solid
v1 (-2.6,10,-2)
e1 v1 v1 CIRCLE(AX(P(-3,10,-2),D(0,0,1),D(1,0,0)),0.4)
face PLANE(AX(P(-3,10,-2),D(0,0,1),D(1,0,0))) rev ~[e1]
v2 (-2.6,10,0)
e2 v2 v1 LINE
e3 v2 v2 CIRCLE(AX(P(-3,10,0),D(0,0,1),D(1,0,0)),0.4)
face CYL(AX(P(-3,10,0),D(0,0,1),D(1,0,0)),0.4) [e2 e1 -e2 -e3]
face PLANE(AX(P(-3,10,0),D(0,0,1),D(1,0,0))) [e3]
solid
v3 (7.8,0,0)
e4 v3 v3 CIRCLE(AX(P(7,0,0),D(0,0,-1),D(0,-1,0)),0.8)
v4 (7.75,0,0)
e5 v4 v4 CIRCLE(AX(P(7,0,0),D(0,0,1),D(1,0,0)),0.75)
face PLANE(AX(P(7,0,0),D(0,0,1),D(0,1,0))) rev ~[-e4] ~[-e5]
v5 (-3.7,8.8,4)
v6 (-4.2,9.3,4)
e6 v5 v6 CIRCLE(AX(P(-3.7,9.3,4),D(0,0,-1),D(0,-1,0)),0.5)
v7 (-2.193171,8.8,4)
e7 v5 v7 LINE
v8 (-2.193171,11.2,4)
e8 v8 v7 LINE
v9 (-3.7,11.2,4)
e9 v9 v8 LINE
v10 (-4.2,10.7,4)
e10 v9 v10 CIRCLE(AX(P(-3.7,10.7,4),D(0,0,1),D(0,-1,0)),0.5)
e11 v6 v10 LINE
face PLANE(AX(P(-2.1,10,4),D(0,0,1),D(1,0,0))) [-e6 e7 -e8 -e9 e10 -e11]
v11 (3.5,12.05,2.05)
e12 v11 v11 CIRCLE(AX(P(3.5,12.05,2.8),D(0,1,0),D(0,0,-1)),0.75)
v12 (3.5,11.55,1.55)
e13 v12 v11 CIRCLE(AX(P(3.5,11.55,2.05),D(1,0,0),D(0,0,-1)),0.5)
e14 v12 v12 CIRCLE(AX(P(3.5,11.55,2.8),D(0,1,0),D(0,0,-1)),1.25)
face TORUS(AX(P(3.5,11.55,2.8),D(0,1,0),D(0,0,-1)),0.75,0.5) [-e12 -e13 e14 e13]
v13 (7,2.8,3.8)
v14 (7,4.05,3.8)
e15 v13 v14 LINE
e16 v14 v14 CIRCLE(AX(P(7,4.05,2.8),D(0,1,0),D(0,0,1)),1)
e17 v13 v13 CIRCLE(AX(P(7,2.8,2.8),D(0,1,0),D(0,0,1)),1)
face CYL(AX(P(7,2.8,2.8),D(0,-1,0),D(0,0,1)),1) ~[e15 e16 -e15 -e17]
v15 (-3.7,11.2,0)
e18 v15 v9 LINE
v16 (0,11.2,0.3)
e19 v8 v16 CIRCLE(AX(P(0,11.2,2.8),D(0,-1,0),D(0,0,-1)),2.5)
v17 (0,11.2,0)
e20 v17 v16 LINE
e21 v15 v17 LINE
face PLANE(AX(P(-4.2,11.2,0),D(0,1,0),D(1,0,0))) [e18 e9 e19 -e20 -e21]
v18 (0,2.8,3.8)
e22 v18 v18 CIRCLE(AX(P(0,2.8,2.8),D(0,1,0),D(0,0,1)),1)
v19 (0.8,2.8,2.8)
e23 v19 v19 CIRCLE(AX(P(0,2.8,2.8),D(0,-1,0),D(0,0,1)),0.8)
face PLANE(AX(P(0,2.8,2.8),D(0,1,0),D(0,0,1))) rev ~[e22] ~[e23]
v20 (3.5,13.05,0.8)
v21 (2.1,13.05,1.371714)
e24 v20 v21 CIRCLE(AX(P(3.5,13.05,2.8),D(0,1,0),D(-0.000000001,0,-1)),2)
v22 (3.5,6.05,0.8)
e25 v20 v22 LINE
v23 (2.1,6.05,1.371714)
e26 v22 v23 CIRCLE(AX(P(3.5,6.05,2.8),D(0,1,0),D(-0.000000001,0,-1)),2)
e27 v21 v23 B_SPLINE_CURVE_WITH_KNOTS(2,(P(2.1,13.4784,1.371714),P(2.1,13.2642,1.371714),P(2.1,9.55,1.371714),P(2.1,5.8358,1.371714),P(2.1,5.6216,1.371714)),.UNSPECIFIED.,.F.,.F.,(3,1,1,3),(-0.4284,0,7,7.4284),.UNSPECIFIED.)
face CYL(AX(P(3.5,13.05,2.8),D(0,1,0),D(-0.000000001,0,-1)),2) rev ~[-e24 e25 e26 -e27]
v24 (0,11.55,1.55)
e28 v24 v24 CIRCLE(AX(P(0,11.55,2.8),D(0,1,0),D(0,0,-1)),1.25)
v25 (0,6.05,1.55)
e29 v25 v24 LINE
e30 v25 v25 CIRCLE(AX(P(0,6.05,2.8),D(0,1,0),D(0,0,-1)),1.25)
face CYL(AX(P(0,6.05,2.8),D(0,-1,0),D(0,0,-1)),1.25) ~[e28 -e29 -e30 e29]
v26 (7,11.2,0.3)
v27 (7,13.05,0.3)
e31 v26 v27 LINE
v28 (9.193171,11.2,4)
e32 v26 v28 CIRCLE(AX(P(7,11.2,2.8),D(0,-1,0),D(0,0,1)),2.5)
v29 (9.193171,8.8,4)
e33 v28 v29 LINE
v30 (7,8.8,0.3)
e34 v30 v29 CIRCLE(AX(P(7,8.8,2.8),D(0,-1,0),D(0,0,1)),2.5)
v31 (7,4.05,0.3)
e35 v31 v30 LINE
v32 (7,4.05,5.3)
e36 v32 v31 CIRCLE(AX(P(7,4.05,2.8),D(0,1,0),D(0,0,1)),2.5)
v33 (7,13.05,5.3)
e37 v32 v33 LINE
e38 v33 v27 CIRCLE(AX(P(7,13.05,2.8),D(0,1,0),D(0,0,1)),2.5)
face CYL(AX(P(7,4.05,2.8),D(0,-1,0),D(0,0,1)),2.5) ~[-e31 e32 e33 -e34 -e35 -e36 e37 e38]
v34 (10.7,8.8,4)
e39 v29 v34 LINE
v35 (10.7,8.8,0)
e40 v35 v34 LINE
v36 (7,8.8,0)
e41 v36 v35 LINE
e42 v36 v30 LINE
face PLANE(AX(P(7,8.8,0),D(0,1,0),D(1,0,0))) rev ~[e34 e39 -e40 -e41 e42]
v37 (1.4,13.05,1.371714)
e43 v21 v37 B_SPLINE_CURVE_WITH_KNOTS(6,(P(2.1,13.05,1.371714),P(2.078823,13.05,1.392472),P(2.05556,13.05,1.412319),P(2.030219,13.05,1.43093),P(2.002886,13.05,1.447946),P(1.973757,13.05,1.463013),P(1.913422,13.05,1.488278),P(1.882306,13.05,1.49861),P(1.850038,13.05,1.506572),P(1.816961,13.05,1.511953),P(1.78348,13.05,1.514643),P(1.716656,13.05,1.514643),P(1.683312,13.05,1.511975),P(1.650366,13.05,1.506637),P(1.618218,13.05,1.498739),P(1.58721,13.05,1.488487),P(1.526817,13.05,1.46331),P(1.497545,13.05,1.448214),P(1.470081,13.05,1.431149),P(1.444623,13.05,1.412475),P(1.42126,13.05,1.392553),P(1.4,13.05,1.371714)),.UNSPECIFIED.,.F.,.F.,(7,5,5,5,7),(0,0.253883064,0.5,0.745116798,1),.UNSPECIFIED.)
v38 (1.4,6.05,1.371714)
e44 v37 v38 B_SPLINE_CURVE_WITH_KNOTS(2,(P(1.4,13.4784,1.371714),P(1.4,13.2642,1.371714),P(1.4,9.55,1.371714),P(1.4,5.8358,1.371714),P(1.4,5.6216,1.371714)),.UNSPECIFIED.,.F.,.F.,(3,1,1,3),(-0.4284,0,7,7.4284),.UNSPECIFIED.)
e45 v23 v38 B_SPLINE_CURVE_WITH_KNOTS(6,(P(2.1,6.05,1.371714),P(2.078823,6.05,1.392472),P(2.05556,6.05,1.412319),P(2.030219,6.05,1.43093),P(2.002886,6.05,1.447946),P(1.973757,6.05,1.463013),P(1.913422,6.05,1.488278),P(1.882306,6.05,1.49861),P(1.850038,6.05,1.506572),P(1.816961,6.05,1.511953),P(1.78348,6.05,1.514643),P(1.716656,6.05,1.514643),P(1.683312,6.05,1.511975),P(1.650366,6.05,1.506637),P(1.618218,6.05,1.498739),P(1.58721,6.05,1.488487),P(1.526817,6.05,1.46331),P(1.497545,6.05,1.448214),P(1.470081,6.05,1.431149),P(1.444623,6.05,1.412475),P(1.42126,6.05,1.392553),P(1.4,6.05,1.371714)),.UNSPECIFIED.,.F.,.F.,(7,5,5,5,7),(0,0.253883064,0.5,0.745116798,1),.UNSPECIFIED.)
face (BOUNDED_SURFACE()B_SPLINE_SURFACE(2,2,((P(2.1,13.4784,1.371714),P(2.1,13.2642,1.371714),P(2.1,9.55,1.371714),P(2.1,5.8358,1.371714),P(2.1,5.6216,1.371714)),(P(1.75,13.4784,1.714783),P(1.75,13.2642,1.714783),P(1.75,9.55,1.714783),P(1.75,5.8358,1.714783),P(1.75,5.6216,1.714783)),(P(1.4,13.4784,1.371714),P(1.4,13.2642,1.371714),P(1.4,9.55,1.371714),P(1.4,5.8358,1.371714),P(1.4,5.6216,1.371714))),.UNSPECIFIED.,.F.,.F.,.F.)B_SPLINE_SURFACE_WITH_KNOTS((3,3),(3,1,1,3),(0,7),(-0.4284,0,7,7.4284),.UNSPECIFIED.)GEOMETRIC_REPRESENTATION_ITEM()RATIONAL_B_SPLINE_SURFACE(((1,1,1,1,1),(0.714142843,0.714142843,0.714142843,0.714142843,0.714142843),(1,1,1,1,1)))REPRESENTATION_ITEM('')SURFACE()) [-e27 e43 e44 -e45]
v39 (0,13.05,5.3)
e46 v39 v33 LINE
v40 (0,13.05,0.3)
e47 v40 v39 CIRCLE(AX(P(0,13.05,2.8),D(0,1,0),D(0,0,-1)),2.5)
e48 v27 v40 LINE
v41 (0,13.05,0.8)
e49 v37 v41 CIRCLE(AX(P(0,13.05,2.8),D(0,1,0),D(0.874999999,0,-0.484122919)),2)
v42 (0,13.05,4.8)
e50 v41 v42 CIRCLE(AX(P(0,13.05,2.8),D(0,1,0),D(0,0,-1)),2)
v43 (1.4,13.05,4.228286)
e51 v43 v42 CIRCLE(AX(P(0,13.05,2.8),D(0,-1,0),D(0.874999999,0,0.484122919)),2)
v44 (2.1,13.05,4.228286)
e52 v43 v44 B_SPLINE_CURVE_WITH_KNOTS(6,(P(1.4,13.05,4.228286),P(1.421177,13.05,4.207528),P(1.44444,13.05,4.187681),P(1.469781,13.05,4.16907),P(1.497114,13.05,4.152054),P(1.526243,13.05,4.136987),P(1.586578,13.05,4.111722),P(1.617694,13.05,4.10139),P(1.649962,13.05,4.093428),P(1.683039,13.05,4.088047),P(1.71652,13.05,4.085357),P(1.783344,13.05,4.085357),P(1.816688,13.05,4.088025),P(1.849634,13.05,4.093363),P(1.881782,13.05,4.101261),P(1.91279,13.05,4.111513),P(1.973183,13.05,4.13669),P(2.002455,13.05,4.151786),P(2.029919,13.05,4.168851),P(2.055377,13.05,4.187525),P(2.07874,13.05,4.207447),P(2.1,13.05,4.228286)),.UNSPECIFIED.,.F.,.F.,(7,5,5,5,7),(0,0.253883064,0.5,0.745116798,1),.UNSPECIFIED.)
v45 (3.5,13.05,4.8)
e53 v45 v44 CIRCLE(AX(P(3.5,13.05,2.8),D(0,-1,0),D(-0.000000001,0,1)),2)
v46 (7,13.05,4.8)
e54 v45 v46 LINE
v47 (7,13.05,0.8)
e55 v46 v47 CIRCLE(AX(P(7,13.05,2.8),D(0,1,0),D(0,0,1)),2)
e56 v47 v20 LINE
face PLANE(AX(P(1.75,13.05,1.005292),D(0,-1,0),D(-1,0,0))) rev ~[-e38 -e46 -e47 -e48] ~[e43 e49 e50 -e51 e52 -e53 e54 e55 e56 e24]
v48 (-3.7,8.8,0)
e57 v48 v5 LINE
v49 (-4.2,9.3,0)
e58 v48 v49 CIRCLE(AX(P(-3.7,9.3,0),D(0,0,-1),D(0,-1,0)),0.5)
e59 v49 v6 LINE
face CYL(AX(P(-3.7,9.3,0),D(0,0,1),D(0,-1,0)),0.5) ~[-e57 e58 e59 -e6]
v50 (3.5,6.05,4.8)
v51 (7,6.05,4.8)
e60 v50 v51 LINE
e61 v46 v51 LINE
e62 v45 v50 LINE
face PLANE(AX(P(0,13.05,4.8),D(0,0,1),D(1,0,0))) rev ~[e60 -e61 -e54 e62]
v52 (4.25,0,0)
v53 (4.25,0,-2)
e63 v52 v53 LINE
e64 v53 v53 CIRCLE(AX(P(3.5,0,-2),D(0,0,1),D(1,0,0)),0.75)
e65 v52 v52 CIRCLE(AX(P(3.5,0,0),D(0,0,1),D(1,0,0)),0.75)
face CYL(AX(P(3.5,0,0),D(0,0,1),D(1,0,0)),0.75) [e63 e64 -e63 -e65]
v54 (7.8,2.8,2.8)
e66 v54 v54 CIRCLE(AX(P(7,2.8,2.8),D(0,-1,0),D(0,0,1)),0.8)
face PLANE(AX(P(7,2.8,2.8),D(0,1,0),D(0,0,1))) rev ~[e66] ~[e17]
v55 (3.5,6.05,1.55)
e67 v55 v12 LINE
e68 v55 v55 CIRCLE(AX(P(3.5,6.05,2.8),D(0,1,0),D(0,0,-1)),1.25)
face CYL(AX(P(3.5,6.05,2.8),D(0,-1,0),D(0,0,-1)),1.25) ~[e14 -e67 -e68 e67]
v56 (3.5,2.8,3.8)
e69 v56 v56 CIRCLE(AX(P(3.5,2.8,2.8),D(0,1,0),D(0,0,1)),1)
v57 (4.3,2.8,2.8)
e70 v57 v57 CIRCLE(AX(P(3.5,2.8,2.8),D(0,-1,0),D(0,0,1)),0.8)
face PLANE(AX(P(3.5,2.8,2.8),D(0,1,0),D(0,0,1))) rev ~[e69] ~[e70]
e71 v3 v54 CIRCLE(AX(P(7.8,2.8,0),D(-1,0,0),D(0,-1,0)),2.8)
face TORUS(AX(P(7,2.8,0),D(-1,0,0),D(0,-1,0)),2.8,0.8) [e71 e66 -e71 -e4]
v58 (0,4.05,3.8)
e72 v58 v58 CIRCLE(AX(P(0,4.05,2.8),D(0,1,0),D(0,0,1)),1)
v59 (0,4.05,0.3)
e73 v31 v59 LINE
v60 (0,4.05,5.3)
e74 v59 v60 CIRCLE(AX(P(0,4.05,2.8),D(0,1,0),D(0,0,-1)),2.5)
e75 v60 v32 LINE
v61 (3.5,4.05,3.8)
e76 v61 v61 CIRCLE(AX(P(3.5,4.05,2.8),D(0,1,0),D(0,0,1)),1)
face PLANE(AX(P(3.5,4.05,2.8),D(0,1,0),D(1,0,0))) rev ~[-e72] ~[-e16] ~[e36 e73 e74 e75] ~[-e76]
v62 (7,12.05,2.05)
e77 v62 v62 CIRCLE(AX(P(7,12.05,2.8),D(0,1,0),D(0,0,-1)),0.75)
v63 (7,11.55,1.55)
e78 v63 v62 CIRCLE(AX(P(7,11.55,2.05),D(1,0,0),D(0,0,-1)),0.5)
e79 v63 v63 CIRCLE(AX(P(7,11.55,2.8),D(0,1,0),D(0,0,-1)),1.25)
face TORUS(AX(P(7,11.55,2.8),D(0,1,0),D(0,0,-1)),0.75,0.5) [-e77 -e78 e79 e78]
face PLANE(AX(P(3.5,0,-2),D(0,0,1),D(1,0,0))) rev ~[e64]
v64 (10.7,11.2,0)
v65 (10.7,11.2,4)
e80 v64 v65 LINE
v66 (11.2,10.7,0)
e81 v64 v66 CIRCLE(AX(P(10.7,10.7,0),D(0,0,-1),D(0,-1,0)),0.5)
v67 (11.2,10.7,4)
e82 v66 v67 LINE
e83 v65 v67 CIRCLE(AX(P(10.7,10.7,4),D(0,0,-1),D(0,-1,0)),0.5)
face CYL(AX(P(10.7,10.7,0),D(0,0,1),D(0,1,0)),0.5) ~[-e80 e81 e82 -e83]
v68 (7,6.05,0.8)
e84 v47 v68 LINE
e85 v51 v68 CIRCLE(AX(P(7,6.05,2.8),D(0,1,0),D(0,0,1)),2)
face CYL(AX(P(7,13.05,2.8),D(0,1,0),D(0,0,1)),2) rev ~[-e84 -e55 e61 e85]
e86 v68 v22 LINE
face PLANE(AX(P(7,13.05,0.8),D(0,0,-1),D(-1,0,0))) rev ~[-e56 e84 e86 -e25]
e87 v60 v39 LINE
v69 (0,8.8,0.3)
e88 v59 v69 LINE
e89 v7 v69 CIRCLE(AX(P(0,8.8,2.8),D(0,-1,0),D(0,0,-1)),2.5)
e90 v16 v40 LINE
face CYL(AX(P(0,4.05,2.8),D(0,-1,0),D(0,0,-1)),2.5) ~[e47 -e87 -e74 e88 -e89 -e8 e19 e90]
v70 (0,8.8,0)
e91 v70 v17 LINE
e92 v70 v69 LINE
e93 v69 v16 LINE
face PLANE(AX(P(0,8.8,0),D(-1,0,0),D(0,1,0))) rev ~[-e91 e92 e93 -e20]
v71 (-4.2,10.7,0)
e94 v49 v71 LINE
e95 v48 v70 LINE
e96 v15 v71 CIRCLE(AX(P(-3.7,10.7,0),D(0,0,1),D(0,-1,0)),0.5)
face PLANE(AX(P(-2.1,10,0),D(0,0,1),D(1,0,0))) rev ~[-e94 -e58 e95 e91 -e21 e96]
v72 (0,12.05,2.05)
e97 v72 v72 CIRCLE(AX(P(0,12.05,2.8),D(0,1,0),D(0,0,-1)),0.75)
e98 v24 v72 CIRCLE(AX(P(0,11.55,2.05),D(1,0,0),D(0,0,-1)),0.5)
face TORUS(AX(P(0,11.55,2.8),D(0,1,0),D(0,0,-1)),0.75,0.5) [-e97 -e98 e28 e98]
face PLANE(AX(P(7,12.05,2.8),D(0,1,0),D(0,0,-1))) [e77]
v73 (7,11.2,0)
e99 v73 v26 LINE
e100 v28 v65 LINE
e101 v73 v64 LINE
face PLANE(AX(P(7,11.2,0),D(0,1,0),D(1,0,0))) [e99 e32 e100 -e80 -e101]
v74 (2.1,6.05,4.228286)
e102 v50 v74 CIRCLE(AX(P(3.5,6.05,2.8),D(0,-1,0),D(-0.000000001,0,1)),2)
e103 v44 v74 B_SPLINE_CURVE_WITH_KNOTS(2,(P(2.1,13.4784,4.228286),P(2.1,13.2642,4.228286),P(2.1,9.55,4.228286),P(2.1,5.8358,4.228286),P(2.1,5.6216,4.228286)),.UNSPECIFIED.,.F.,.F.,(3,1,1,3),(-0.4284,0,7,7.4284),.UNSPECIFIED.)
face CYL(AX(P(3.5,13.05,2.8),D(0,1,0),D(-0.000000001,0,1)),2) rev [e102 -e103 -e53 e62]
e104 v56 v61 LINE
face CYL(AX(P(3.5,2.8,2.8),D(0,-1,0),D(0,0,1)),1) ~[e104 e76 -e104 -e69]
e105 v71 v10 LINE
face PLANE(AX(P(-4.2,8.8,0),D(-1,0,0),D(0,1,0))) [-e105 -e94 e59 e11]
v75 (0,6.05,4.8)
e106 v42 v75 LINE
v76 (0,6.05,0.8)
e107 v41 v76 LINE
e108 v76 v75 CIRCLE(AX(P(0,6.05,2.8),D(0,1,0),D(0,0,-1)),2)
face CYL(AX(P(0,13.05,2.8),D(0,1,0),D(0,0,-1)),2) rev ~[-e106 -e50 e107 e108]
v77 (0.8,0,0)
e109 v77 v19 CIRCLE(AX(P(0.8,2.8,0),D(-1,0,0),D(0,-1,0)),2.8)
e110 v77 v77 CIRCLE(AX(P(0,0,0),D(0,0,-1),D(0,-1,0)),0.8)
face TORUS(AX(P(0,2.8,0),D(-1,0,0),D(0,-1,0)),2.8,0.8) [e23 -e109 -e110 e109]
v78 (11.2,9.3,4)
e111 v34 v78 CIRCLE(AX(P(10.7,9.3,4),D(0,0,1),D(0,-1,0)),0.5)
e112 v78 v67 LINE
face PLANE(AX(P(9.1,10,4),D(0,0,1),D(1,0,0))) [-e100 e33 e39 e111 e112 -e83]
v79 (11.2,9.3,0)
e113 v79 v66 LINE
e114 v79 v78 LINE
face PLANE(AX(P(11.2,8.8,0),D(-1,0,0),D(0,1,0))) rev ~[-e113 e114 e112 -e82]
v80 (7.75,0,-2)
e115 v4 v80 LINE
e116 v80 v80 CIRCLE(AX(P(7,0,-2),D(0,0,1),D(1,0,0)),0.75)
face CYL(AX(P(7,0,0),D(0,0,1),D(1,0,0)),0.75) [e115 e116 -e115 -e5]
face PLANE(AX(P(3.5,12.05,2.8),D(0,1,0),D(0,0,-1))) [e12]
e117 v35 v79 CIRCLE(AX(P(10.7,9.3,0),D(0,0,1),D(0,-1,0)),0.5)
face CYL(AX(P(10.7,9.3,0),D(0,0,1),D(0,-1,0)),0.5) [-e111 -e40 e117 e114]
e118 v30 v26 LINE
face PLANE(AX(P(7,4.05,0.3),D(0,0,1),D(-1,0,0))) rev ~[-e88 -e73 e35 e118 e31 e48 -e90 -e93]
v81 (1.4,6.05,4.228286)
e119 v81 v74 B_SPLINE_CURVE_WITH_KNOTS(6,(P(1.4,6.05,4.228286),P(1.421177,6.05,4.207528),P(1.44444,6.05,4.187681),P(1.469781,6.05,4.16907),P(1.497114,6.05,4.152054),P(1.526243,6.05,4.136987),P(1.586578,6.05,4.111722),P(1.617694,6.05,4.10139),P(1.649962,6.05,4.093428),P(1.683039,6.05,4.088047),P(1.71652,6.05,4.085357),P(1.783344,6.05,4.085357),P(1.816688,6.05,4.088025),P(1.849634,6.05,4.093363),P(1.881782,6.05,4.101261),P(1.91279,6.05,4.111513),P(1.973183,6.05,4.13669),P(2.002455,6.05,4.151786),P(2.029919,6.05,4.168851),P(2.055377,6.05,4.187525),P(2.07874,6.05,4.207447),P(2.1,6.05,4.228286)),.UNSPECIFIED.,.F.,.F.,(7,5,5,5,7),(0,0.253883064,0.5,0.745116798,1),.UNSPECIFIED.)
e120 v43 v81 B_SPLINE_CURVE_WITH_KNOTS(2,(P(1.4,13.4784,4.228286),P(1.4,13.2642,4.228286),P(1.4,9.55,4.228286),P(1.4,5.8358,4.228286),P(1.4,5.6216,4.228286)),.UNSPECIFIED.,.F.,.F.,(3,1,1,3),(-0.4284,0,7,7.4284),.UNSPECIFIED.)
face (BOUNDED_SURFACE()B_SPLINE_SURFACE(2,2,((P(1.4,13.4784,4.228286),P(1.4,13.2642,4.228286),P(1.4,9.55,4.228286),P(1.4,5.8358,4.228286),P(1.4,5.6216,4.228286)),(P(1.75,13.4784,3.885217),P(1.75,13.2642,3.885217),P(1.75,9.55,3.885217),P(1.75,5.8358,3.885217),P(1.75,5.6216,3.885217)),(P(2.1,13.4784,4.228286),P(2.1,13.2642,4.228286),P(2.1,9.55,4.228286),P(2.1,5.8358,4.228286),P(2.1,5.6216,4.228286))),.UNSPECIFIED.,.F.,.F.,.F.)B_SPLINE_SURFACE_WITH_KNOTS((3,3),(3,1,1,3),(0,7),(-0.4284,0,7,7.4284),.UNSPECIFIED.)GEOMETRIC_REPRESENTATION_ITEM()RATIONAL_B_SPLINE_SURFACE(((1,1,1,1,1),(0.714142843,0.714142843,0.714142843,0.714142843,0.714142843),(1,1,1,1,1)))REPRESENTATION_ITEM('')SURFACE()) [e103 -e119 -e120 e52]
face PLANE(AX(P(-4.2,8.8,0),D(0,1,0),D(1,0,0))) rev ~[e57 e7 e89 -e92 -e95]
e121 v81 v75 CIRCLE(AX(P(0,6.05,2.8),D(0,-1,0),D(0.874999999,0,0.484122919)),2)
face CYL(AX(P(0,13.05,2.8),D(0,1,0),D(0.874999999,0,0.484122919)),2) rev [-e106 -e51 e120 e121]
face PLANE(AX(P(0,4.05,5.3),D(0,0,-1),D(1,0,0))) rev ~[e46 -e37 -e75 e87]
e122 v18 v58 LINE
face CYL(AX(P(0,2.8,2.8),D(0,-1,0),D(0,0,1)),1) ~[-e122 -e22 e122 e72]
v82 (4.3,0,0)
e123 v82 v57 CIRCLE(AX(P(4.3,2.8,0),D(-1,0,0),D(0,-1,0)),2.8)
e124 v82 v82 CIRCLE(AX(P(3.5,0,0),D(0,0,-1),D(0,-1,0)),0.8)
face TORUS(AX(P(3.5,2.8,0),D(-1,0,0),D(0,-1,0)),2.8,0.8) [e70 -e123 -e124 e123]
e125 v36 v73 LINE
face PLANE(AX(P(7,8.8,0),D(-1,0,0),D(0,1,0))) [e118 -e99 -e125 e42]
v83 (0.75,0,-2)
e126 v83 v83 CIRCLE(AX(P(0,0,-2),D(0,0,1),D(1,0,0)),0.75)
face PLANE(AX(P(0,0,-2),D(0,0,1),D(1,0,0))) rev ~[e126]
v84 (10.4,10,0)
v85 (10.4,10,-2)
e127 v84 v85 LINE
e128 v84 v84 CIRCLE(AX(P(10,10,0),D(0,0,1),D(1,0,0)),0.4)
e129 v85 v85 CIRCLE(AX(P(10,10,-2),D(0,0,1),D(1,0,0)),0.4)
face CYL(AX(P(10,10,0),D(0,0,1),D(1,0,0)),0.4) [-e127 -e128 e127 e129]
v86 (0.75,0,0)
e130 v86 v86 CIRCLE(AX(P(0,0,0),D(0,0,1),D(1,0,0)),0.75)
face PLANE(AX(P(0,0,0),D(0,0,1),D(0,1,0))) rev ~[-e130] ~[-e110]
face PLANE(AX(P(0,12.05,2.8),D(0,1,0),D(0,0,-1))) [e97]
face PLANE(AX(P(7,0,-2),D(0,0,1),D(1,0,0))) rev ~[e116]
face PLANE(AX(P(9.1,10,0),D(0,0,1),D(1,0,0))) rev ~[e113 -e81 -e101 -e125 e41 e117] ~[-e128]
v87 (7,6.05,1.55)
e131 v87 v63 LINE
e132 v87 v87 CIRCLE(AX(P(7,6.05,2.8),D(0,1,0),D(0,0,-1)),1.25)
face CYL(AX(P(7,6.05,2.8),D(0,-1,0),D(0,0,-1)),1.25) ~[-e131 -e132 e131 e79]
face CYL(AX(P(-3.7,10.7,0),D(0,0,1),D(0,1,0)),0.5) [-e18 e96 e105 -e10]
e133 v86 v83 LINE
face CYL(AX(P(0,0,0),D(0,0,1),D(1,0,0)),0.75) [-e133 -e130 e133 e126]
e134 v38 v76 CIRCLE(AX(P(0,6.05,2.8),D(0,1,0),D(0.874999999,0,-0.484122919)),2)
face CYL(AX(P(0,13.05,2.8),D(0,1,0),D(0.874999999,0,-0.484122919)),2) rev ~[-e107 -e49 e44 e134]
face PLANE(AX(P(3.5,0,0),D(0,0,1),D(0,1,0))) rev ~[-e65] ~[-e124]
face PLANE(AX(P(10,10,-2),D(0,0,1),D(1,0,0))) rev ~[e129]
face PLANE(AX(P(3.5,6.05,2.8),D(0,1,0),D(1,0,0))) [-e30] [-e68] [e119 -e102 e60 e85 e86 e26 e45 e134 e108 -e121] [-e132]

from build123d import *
from build123d.topology import SkipClean

# Parameters (mm, degrees)
SKETCH_1_R             = 0.75
EXTRUDE_1_DEPTH        = 2
SKETCH_2_R             = 0.8
SKETCH_4_R             = 1
EXTRUDE_2_DEPTH        = 1.25
EXTRUDE_3_DEPTH        = 9
SKETCH_6_R             = 0.4
EXTRUDE_4_DEPTH        = 2
EXTRUDE_4_2_DEPTH      = 2
SKETCH_7_W             = 4.2
SKETCH_7_H             = 2.4
EXTRUDE_5_DEPTH        = 4
CUT_EXTRUDE_3_DEPTH    = 7
SKETCH_9_R             = 1.25
EXTRUDE_7_DEPTH        = 6
PATTERN_LINEAR_2_COUNT = 3
PATTERN_LINEAR_2_PITCH = 3.5
EXTRUDE_8_REACH        = 20.584
FILLET_1_R             = 0.5
FILLET_3_R             = 0.5
FILLET_4_R             = 0.5


with BuildPart() as part:
    # ｽｹｯﾁ1 → ﾎﾞｽ - 押し出し1 (new body)
    with BuildSketch(Plane.XY):
        Circle(SKETCH_1_R)
    extrude_1 = extrude(amount=-EXTRUDE_1_DEPTH)

    # ｽｲｰﾌﾟ1: sweep along a path in ｽｹｯﾁ3
    with BuildLine(Plane(origin=(0, 0, 0), x_dir=(0, 0, -1), z_dir=(1, 0, 0))) as sweep_1_path:
        ThreePointArc((0, 0), (-1.979898987, 0.820101013), (-2.8, 2.8))
    # ｽｹｯﾁ2 → ｽｲｰﾌﾟ1 (sweep)
    with BuildSketch(Plane.XY):
        Circle(SKETCH_2_R)
    sweep_1 = sweep(path=sweep_1_path.line)

    # ｽｹｯﾁ4 → ﾎﾞｽ - 押し出し2 (add)
    with BuildSketch(Plane(origin=(0, 2.8, 0), x_dir=(1, 0, 0), z_dir=(0, 1, 0))):
        with Locations(Location((0, -2.8, 0), (0, 0, 270))):
            Circle(SKETCH_4_R)
    extrude_2 = extrude(amount=EXTRUDE_2_DEPTH)

    # ｽｹｯﾁ5 → ﾎﾞｽ - 押し出し3 (add)
    with BuildSketch(Plane(origin=(0, 4.05, 0), x_dir=(1, 0, 0), z_dir=(0, 1, 0))):
        with BuildLine():
            Line((0, -5.3), (7, -5.3))
            ThreePointArc((7, -5.3), (9.5, -2.8), (7, -0.3))
            Line((7, -0.3), (0, -0.3))
            ThreePointArc((0, -0.3), (-2.5, -2.8), (0, -5.3))
        make_face()
    extrude(amount=EXTRUDE_3_DEPTH)



with BuildPart() as body_2:
    # ｽｹｯﾁ6 → ﾎﾞｽ - 押し出し4 (new body)
    with BuildSketch(Plane.XY):
        with Locations((10, 10)):
            Circle(SKETCH_6_R)
    extrude(amount=-EXTRUDE_4_DEPTH)


with BuildPart() as body_3:
    # ｽｹｯﾁ6 → Extrude 4 2 (new body)
    with BuildSketch(Plane.XY):
        with Locations((-3, 10)):
            Circle(SKETCH_6_R)
    extrude(amount=-EXTRUDE_4_2_DEPTH)


with BuildPart() as part_1:
    add(part.part)

    add(body_2.part)  # ﾎﾞｽ - 押し出し5 merges body 2
    # ｽｹｯﾁ7 → ﾎﾞｽ - 押し出し5 (add)
    with BuildSketch(Plane.XY):
        with Locations((9.1, 10)):
            Rectangle(SKETCH_7_W, SKETCH_7_H)
        with Locations((-2.1, 10)):
            Rectangle(SKETCH_7_W, SKETCH_7_H)
    extrude(amount=EXTRUDE_5_DEPTH)

    # ｽｹｯﾁ8 → ｶｯﾄ - 押し出し3 (cut)
    with BuildSketch(Plane(origin=(0, 13.05, 0), x_dir=(1, 0, 0), z_dir=(0, 1, 0))):
        with BuildLine():
            Line((7, -0.8), (0, -0.8))
            ThreePointArc((0, -0.8), (-2, -2.8), (0, -4.8))
            Line((0, -4.8), (7, -4.8))
            ThreePointArc((7, -4.8), (9, -2.8), (7, -0.8))
        make_face()
    extrude(amount=-CUT_EXTRUDE_3_DEPTH, mode=Mode.SUBTRACT)

    # ｽｹｯﾁ9 → ﾎﾞｽ - 押し出し7 (add)
    with BuildSketch(Plane(origin=(0, 6.05, 0), x_dir=(1, 0, 0), z_dir=(0, 1, 0))):
        with Locations(Location((0, -2.8, 0), (0, 0, 90))):
            Circle(SKETCH_9_R)
    extrude_7 = extrude(amount=EXTRUDE_7_DEPTH)

    # 直線ﾊﾟﾀｰﾝ2: ﾎﾞｽ - 押し出し1, ｽｲｰﾌﾟ1, ﾎﾞｽ - 押し出し2, ﾎﾞｽ - 押し出し7 ×3
    with Locations(*[(i * PATTERN_LINEAR_2_PITCH, 0, 0) for i in range(1, PATTERN_LINEAR_2_COUNT)]):
        add(extrude_1)
        add(sweep_1)
        add(extrude_2)
        add(extrude_7)

    # ｽｹｯﾁ10 → ﾎﾞｽ - 押し出し8 (add, up to next)
    with BuildSketch(Plane(origin=(0, 13.05, 0), x_dir=(1, 0, 0), z_dir=(0, 1, 0)), mode=Mode.PRIVATE) as extrude_8_sk1:
        with BuildLine():
            Line((0, -0.8), (3.5, -0.8))
            ThreePointArc((3.5, -0.8), (2.484246997, -1.077140216), (1.75, -1.831754163))
            ThreePointArc((1.75, -1.831754163), (1.015753003, -1.077140216), (0, -0.8))
        make_face()
    extrude_8_tool1 = extrude(extrude_8_sk1.sketch, amount=-EXTRUDE_8_REACH, mode=Mode.PRIVATE) - part_1.part
    extrude_8 = extrude_8_tool1.solids().sort_by_distance((1.75, 13.05, 1.088549))[0]
    add(extrude_8)

    # ﾐﾗｰ19: ﾎﾞｽ - 押し出し8 across plane
    with SkipClean():  # the faces are left unmerged after this step: merging them gives an invalid solid
        add(extrude_8.mirror(Plane(origin=(0, 0, 2.8), x_dir=(1, 0, 0), z_dir=(0, 0, -1))))

    # ﾌｨﾚｯﾄ1
    fillet_1_edges = [part_1.edges().sort_by_distance(p)[0] for p in [
        (11.2, 8.8, 2),
        (11.2, 11.2, 2),
        (-4.2, 11.2, 2),
        (-4.2, 8.8, 2),
    ]]
    fillet(fillet_1_edges, radius=FILLET_1_R)

    # ﾌｨﾚｯﾄ3
    fillet_3_edges = [part_1.edges().sort_by_distance(p)[0] for p in [
        (1.75, 9.55, 1.831754163),
        (1.75, 9.55, 3.768245837),
    ]]
    fillet(fillet_3_edges, radius=FILLET_3_R)

    # ﾌｨﾚｯﾄ4
    fillet_4_edges = [part_1.edges().sort_by_distance(p)[0] for p in [
        (3.5, 12.05, 4.05),
        (7, 12.05, 4.05),
        (0, 12.05, 4.05),
    ]]
    fillet(fillet_4_edges, radius=FILLET_4_R)


solid = Compound([body_3.part, part_1.part])
